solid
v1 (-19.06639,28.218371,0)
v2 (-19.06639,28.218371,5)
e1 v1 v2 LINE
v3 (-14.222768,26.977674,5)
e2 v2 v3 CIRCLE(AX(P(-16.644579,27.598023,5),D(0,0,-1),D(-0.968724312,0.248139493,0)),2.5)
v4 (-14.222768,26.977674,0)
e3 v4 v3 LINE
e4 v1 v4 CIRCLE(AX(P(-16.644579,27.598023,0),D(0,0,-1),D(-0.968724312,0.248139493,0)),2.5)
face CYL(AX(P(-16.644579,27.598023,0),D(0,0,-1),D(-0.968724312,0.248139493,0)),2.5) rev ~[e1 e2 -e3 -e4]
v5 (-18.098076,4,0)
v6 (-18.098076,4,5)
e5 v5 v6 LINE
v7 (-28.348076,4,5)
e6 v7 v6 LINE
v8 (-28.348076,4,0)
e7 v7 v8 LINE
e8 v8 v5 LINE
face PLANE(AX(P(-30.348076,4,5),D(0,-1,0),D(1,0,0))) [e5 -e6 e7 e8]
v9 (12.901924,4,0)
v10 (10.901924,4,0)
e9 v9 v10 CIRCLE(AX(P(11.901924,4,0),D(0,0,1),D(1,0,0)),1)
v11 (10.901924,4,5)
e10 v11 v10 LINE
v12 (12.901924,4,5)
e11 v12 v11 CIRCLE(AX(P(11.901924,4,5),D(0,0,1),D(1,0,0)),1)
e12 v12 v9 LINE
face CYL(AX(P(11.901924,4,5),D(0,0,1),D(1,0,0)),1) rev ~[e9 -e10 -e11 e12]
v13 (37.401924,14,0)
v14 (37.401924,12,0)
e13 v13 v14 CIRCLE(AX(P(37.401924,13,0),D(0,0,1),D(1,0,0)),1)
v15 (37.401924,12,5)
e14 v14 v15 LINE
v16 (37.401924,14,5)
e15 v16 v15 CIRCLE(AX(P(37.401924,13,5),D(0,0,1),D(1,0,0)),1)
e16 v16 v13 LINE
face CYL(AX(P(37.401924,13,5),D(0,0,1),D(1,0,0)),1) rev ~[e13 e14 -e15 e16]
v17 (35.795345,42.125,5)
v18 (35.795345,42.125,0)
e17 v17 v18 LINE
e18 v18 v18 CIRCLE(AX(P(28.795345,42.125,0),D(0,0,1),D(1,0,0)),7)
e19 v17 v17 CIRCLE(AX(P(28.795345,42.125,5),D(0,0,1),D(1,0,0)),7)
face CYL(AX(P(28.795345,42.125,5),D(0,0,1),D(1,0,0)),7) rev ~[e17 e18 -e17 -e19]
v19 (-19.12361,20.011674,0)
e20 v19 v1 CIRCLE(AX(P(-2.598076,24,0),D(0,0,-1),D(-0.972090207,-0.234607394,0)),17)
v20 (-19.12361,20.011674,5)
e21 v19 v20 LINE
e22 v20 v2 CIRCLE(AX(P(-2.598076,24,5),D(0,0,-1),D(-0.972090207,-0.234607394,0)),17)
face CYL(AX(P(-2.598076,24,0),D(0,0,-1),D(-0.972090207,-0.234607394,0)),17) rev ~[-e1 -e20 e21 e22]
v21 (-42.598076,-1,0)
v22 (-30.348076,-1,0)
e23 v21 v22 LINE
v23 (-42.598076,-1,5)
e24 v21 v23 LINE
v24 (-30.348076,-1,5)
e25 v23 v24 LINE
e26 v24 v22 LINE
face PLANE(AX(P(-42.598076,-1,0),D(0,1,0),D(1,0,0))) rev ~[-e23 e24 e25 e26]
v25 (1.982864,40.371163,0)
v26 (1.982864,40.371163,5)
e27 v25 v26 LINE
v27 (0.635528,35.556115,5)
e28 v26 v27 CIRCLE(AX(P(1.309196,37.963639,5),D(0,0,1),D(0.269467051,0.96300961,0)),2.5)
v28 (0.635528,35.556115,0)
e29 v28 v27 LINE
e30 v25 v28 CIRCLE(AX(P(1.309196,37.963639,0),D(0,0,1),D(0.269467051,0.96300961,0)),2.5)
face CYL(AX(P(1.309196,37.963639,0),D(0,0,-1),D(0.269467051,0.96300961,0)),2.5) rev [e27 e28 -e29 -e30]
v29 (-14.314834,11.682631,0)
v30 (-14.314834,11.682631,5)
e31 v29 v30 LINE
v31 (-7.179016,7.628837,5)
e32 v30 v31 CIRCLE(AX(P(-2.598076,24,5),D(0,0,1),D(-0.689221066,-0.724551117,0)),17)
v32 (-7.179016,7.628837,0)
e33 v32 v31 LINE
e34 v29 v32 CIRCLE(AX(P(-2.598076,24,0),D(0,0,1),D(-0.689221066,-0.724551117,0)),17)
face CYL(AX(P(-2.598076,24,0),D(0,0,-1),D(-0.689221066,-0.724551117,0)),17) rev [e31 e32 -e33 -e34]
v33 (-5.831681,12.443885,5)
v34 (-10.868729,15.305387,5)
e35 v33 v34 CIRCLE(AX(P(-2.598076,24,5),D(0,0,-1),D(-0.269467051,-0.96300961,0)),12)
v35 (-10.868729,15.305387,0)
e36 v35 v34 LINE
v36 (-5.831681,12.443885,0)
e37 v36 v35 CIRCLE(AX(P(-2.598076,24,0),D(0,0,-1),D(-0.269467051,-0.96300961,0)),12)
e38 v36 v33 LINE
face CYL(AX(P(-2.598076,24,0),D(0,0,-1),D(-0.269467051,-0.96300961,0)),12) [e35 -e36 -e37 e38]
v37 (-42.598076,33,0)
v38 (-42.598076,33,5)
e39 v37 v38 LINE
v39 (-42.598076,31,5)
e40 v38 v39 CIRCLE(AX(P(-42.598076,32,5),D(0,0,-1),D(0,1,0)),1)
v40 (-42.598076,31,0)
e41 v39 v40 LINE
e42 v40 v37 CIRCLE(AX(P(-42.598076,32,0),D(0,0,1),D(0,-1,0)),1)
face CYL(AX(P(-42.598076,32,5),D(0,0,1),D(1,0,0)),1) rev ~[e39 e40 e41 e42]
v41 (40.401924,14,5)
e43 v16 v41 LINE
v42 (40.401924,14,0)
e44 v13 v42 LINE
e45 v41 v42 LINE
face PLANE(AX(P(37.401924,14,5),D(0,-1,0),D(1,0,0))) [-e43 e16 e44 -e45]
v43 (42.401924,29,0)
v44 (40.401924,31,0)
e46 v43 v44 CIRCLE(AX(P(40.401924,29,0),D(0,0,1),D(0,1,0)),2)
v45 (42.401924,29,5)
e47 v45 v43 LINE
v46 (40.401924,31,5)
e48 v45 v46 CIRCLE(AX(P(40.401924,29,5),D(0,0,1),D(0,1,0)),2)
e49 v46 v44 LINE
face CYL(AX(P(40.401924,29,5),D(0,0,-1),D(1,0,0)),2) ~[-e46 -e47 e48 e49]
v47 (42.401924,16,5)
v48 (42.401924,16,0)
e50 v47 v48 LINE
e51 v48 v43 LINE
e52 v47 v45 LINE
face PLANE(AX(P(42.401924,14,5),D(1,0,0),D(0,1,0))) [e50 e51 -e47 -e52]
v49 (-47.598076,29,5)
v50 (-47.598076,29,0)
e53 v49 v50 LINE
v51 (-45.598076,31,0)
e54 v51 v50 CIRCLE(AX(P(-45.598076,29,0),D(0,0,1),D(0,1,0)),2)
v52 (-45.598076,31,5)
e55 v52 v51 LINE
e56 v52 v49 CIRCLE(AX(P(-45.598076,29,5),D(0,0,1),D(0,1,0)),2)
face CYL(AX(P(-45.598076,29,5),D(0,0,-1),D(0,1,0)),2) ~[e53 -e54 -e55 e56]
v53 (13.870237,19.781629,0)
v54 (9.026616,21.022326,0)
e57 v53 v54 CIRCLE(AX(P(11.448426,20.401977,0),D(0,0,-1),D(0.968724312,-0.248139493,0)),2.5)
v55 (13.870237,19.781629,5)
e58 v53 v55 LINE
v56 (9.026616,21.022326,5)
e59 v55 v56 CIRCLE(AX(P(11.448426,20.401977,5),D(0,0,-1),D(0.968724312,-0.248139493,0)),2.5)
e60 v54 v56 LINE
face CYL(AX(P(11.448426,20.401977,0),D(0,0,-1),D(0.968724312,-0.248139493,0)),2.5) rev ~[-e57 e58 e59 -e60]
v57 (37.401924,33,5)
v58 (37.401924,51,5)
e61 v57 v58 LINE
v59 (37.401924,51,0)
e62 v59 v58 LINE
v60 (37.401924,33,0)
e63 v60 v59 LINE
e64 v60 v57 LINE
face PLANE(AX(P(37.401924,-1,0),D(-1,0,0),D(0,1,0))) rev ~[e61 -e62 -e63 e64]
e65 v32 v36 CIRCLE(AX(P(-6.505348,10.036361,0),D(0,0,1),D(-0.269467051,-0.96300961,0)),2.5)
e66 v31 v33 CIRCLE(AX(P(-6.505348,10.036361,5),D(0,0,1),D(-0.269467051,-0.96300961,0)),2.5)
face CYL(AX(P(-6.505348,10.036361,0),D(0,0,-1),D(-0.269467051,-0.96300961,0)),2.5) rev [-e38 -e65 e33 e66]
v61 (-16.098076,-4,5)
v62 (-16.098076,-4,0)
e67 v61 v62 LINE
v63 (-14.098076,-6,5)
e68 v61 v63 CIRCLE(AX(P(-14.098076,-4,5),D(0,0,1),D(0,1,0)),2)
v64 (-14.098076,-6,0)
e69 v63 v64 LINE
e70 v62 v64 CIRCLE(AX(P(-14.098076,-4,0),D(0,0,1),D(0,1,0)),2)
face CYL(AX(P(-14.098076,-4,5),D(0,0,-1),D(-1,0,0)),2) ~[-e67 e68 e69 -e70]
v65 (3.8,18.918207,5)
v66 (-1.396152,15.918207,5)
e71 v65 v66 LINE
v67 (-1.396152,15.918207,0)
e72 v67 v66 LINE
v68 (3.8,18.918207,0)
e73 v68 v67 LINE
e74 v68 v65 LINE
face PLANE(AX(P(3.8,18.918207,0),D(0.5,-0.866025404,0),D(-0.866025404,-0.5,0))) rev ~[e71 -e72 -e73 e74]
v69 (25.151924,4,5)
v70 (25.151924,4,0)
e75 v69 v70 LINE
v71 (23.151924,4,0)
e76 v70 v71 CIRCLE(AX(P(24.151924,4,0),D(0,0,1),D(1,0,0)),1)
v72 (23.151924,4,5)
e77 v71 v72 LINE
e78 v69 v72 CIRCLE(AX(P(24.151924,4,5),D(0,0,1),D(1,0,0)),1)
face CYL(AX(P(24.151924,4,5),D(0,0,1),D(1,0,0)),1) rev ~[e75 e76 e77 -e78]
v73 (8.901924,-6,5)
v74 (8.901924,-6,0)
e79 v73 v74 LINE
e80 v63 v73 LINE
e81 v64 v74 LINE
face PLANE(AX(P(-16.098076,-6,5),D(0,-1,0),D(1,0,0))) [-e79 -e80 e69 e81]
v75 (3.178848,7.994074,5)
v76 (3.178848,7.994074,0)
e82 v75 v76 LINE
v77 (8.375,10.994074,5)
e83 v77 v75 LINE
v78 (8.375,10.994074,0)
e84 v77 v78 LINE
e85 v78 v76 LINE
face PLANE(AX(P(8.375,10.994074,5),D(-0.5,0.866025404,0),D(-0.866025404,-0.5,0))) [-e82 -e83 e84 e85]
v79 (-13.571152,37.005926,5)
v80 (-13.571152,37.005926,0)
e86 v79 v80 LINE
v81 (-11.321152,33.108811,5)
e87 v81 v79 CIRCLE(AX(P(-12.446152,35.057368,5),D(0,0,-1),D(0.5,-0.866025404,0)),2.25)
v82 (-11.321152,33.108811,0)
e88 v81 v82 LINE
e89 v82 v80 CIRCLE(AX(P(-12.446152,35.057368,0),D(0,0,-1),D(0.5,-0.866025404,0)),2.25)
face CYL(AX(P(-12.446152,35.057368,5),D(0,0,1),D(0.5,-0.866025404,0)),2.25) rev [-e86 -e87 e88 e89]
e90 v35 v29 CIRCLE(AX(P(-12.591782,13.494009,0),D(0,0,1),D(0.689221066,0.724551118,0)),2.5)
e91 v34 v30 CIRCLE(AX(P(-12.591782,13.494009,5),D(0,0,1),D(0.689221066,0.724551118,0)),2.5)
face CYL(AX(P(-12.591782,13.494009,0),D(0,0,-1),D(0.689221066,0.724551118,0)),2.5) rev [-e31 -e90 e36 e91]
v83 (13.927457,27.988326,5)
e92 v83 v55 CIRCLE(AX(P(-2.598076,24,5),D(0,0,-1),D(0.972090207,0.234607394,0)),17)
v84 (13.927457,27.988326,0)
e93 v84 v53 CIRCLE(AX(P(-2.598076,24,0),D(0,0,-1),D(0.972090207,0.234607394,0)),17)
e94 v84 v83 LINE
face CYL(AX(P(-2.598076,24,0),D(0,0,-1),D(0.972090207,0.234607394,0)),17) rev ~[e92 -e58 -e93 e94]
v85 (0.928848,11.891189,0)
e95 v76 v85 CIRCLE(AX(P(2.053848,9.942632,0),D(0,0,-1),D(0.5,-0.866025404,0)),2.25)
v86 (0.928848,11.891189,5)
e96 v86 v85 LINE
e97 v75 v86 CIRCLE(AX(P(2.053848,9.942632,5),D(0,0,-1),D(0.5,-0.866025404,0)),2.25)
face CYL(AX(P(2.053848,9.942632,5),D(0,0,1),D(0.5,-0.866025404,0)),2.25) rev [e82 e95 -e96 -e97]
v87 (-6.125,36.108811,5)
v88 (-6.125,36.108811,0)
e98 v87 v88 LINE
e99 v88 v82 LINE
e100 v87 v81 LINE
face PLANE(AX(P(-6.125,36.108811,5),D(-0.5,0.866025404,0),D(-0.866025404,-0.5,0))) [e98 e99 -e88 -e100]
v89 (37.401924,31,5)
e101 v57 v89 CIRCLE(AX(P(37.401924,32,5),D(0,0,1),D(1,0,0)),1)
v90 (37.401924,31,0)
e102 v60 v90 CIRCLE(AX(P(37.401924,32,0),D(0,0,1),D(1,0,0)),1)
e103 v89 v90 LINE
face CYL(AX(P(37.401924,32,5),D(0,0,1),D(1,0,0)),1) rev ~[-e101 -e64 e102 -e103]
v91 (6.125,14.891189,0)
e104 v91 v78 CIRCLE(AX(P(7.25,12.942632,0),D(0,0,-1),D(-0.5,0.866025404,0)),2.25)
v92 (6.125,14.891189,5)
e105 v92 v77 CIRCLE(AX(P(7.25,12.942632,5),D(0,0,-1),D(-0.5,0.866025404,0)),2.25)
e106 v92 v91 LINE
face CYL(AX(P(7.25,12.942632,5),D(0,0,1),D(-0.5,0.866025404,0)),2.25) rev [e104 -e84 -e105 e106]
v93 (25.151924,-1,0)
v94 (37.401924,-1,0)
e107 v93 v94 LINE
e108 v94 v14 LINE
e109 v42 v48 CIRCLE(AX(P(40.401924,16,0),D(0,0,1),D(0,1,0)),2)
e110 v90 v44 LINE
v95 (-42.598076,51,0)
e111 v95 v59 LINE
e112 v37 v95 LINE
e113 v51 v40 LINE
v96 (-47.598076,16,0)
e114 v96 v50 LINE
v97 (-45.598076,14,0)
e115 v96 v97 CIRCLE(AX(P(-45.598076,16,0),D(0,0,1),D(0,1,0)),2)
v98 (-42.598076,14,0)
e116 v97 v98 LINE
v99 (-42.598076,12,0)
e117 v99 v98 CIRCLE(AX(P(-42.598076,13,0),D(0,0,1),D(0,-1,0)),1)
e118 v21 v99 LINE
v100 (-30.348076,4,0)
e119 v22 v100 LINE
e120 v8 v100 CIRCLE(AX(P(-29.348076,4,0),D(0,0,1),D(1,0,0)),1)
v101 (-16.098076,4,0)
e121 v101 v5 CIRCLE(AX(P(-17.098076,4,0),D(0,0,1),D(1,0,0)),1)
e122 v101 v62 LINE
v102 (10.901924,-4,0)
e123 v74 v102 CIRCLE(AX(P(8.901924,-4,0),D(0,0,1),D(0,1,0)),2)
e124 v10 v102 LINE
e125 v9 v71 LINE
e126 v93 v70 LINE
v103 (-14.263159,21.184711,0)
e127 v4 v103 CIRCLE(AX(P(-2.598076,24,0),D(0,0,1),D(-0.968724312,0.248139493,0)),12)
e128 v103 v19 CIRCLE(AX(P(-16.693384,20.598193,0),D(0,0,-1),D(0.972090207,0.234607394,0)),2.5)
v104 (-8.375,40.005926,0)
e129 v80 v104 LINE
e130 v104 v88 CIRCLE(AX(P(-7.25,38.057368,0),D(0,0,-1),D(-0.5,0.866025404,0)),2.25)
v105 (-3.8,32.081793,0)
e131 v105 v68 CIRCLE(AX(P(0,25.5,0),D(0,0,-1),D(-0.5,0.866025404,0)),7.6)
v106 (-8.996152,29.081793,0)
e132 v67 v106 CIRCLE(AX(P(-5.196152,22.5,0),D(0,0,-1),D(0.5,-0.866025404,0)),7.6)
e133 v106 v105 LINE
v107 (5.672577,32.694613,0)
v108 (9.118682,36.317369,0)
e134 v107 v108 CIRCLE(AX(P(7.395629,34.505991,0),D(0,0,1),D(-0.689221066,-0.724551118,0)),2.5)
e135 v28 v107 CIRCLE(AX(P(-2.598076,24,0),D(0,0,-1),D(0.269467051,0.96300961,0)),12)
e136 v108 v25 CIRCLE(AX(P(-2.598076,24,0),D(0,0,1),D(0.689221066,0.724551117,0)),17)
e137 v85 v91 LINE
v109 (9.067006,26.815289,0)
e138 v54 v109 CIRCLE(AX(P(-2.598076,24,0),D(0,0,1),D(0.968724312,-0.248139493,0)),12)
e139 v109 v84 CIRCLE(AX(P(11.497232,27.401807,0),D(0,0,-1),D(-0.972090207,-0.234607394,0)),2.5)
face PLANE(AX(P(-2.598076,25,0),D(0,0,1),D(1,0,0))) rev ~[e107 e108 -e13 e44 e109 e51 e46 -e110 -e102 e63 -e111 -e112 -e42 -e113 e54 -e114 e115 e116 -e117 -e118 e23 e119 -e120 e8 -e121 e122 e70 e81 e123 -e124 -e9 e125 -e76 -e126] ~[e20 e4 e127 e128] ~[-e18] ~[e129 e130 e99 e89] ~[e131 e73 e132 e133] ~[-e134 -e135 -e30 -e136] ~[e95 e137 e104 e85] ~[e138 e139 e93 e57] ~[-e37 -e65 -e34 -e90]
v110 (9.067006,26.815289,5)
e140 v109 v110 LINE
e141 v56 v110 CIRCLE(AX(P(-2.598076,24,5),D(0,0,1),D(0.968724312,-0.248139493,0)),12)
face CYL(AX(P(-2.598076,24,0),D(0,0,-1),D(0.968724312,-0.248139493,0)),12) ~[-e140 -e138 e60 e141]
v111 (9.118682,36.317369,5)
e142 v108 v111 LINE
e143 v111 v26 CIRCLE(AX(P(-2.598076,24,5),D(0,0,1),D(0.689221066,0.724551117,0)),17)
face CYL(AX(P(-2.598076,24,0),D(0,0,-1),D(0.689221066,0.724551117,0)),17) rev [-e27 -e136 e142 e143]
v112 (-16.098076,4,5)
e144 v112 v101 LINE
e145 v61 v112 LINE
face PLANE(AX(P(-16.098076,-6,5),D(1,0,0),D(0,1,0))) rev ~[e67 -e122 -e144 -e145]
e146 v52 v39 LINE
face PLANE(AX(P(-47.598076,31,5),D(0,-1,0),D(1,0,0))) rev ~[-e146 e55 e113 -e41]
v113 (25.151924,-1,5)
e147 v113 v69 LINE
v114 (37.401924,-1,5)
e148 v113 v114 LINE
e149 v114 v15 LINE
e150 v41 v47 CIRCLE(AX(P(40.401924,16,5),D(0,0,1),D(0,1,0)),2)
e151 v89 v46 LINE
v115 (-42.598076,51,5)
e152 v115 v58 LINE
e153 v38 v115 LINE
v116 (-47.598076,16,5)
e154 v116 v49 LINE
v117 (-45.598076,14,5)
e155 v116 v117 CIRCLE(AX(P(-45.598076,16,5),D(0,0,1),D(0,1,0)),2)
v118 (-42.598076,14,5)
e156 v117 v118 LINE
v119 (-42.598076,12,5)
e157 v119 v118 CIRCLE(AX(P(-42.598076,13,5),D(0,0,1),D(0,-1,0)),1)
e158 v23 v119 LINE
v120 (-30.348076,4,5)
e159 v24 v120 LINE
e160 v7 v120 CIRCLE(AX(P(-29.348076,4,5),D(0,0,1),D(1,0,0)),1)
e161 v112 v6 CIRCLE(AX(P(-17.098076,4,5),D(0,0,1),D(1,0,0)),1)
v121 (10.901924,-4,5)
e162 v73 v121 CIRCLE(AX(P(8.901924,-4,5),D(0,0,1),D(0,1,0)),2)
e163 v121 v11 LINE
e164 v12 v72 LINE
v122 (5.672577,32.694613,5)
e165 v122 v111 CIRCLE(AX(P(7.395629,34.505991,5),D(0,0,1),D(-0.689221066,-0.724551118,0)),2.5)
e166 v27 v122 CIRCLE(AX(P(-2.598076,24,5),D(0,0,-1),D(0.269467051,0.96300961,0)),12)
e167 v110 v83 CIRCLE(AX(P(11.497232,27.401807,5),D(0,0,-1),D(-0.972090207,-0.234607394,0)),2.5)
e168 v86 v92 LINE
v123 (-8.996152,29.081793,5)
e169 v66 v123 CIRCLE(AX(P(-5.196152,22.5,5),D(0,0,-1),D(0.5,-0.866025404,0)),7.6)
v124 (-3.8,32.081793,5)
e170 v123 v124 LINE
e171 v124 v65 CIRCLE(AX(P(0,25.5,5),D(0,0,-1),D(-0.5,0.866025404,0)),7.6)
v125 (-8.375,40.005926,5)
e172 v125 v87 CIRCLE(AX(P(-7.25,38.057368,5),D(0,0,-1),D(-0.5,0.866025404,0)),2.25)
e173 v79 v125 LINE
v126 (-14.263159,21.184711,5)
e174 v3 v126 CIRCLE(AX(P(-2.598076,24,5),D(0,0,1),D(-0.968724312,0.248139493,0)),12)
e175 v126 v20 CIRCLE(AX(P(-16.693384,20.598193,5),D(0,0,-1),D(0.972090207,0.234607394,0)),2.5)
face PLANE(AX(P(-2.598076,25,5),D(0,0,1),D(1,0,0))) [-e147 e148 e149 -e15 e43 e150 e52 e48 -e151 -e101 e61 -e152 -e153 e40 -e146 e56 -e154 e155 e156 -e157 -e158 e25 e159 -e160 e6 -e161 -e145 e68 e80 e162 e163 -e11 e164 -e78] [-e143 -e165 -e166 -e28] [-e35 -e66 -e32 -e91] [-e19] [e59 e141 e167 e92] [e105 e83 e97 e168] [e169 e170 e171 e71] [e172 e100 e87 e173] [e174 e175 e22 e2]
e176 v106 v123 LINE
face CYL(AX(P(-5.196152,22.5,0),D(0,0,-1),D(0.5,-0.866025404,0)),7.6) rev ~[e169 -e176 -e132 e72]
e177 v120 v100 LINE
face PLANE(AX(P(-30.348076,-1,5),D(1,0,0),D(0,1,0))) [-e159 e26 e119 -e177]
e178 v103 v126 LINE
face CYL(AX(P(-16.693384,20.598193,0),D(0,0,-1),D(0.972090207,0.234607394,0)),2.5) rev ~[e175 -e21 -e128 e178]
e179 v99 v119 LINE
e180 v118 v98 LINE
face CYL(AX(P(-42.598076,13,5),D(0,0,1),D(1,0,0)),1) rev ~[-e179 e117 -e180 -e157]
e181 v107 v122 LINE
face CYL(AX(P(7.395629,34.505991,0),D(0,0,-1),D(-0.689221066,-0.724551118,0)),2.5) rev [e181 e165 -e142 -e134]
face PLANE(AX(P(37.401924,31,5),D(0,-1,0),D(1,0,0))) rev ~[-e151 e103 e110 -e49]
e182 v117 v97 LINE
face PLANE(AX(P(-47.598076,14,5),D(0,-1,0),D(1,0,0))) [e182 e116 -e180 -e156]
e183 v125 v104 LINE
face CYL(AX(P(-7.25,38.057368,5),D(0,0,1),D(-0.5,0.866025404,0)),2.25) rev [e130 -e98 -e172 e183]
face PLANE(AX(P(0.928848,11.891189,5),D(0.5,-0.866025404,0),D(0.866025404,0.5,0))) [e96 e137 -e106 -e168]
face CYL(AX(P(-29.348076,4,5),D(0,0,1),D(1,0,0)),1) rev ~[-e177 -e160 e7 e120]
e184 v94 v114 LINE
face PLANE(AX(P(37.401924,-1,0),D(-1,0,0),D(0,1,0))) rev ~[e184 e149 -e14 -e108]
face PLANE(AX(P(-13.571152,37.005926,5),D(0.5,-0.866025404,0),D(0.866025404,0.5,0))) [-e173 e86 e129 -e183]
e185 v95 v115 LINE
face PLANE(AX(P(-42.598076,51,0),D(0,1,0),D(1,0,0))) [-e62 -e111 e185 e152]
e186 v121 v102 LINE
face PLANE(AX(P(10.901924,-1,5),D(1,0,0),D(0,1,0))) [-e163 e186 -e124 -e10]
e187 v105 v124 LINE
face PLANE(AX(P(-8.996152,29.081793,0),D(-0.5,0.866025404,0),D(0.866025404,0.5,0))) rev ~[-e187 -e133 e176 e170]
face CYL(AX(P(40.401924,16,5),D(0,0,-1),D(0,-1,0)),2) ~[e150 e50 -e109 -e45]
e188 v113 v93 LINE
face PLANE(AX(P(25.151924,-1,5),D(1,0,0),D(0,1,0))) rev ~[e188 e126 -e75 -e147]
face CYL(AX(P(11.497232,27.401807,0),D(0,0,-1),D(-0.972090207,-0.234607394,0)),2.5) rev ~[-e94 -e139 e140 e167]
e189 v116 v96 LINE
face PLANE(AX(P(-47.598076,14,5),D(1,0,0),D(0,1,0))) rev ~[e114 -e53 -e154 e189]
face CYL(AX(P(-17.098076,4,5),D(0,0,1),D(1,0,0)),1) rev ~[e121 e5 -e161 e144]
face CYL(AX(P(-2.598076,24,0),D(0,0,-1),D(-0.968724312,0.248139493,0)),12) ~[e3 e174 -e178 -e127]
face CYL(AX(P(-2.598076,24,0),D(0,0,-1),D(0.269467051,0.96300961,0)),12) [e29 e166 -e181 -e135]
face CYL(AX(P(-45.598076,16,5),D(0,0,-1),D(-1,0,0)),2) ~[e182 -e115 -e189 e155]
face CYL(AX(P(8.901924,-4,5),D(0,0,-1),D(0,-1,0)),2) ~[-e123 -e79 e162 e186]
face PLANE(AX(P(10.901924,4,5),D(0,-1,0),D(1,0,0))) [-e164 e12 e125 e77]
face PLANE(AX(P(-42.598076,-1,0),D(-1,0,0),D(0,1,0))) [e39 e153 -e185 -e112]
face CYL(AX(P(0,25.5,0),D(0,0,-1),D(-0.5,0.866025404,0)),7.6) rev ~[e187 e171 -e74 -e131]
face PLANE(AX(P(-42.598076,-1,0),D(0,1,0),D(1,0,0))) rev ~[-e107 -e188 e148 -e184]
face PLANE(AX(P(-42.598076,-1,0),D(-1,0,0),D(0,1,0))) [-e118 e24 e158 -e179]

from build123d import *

# Parameters (mm, degrees)
SKETCH_1_W          = 80
SKETCH_1_H          = 52
EXTRUDE_1_DEPTH     = 5
CUT_EXTRUDE_1_DEPTH = 5
SKETCH_3_R          = 7
CUT_EXTRUDE_2_DEPTH = 10
SKETCH_10_W         = 27
SKETCH_10_H         = 5
SKETCH_10_W_2       = 5
SKETCH_10_H_2       = 17
EXTRUDE_3_DEPTH     = 5
SKETCH_11_R         = 1
CUT_EXTRUDE_5_DEPTH = 5
FILLET_1_R          = 2
SKETCH_12_W         = 14.25
SKETCH_12_H         = 5
CUT_EXTRUDE_6_DEPTH = 10
SKETCH_15_R         = 1
CUT_EXTRUDE_7_DEPTH = 10


with BuildPart() as part:
    # 스케치1 → 보스-돌출1 (new body)
    with BuildSketch(Plane.XY):
        with Locations((-2.598076211, 25)):
            Rectangle(SKETCH_1_W, SKETCH_1_H)
        with BuildLine():
            Line((-8.996152423, 29.081793069), (-3.8, 32.081793069))
            ThreePointArc((-3.8, 32.081793069), (6.581793069, 29.3), (3.8, 18.918206931))
            Line((3.8, 18.918206931), (-1.396152423, 15.918206931))
            ThreePointArc((-1.396152423, 15.918206931), (-11.777945491, 18.7), (-8.996152423, 29.081793069))
        make_face(mode=Mode.SUBTRACT)
        with BuildLine():
            ThreePointArc((9.118681917, 36.317368995), (5.799069268, 38.781337822), (1.982863658, 40.371163365))
            ThreePointArc((1.982863658, 40.371163365), (-1.098327994, 38.637306968), (0.635528403, 35.556115316))
            ThreePointArc((0.635528403, 35.556115316), (3.329320598, 34.433885521), (5.672576585, 32.694613408))
            ThreePointArc((5.672576585, 32.694613408), (9.207007044, 32.782938536), (9.118681917, 36.317368995))
        make_face(mode=Mode.SUBTRACT)
        with BuildLine():
            ThreePointArc((13.92745731, 27.988325692), (14.401510584, 23.881472394), (13.870237087, 19.781628618))
            ThreePointArc((13.870237087, 19.781628618), (10.828077575, 17.980166572), (9.026615528, 21.022326083))
            ThreePointArc((9.026615528, 21.022326083), (9.401632115, 23.916333454), (9.067006275, 26.815288723))
            ThreePointArc((9.067006275, 26.815288723), (10.910713308, 29.832032725), (13.92745731, 27.988325692))
        make_face(mode=Mode.SUBTRACT)
        with BuildLine():
            ThreePointArc((-14.31483434, 11.682631005), (-10.995221691, 9.218662178), (-7.179016081, 7.628836635))
            ThreePointArc((-7.179016081, 7.628836635), (-4.097824429, 9.362693032), (-5.831680825, 12.443884684))
            ThreePointArc((-5.831680825, 12.443884684), (-8.52547302, 13.566114479), (-10.868729008, 15.305386592))
            ThreePointArc((-10.868729008, 15.305386592), (-14.403159467, 15.217061464), (-14.31483434, 11.682631005))
        make_face(mode=Mode.SUBTRACT)
        with BuildLine():
            ThreePointArc((-19.123609733, 20.011674308), (-19.597663007, 24.118527606), (-19.066389509, 28.218371382))
            ThreePointArc((-19.066389509, 28.218371382), (-16.024229998, 30.019833428), (-14.222767951, 26.977673917))
            ThreePointArc((-14.222767951, 26.977673917), (-14.597784537, 24.083666546), (-14.263158697, 21.184711277))
            ThreePointArc((-14.263158697, 21.184711277), (-16.106865731, 18.167967275), (-19.123609733, 20.011674308))
        make_face(mode=Mode.SUBTRACT)
    extrude(amount=EXTRUDE_1_DEPTH)

    # 스케치2 → 컷-돌출1 (cut)
    with BuildSketch(Plane.XY.offset(5)):
        with BuildLine():
            Line((8.375, 10.994074487), (3.178847577, 7.994074487))
            ThreePointArc((3.178847577, 7.994074487), (0.105290419, 8.817631645), (0.928847577, 11.891188804))
            Line((0.928847577, 11.891188804), (6.125, 14.891188804))
            ThreePointArc((6.125, 14.891188804), (9.198557159, 14.067631645), (8.375, 10.994074487))
        make_face()
        with BuildLine():
            Line((-6.125, 36.108811196), (-11.321152423, 33.108811196))
            ThreePointArc((-11.321152423, 33.108811196), (-14.394709581, 33.932368355), (-13.571152423, 37.005925513))
            Line((-13.571152423, 37.005925513), (-8.375, 40.005925513))
            ThreePointArc((-8.375, 40.005925513), (-5.301442841, 39.182368355), (-6.125, 36.108811196))
        make_face()
    extrude(amount=-CUT_EXTRUDE_1_DEPTH, mode=Mode.SUBTRACT)

    # 스케치3 → 컷-돌출2 (cut)
    with BuildSketch(Plane.XY.offset(5)):
        with Locations((28.795344676, 42.125)):
            Circle(SKETCH_3_R)
    extrude(amount=-CUT_EXTRUDE_2_DEPTH, mode=Mode.SUBTRACT)

    # 스케치10 → 보스-돌출3 (add)
    with BuildSketch(Plane.XY.offset(5)):
        with Locations((-2.598076211, -3.5)):
            Rectangle(SKETCH_10_W, SKETCH_10_H)
        with Locations((39.901923789, 22.5)):
            Rectangle(SKETCH_10_W_2, SKETCH_10_H_2)
        with Locations((-45.098076211, 22.5)):
            Rectangle(SKETCH_10_W_2, SKETCH_10_H_2)
    extrude(amount=-EXTRUDE_3_DEPTH)

    # 스케치11 → 컷-돌출5 (cut)
    with BuildSketch(Plane.XY.offset(5)):
        with Locations((37.401923789, 32)):
            Circle(SKETCH_11_R)
        with Locations((37.401923789, 13)):
            Circle(SKETCH_11_R)
        with Locations((-42.598076211, 13)):
            Circle(SKETCH_11_R)
        with Locations((-42.598076211, 32)):
            Circle(SKETCH_11_R)
        with Locations((11.901923789, -1)):
            Circle(SKETCH_11_R)
        with Locations((-17.098076211, -1)):
            Circle(SKETCH_11_R)
    extrude(amount=-CUT_EXTRUDE_5_DEPTH, mode=Mode.SUBTRACT)

    # 필렛1
    fillet_1_edges = [part.edges().sort_by_distance(p)[0] for p in [
        (42.401923789, 31, 2.5),
        (42.401923789, 14, 2.5),
        (10.901923789, -6, 2.5),
        (-16.098076211, -6, 2.5),
        (-47.598076211, 14, 2.5),
        (-47.598076211, 31, 2.5),
    ]]
    fillet(fillet_1_edges, radius=FILLET_1_R)

    # 스케치12 → 컷-돌출6 (cut)
    with BuildSketch(Plane.XY.offset(5)):
        with Locations((18.026923789, 1.5)):
            Rectangle(SKETCH_12_W, SKETCH_12_H)
        with Locations((-23.223076211, 1.5)):
            Rectangle(SKETCH_12_W, SKETCH_12_H)
    extrude(amount=-CUT_EXTRUDE_6_DEPTH, mode=Mode.SUBTRACT)

    # 스케치15 → 컷-돌출7 (cut)
    with BuildSketch(Plane.XY.offset(5)):
        with Locations((11.901923789, 4)):
            Circle(SKETCH_15_R)
        with Locations((24.151923789, 4)):
            Circle(SKETCH_15_R)
        with Locations((-17.098076211, 4)):
            Circle(SKETCH_15_R)
        with Locations((-29.348076211, 4)):
            Circle(SKETCH_15_R)
    extrude(amount=-CUT_EXTRUDE_7_DEPTH, mode=Mode.SUBTRACT)


solid = part.part
